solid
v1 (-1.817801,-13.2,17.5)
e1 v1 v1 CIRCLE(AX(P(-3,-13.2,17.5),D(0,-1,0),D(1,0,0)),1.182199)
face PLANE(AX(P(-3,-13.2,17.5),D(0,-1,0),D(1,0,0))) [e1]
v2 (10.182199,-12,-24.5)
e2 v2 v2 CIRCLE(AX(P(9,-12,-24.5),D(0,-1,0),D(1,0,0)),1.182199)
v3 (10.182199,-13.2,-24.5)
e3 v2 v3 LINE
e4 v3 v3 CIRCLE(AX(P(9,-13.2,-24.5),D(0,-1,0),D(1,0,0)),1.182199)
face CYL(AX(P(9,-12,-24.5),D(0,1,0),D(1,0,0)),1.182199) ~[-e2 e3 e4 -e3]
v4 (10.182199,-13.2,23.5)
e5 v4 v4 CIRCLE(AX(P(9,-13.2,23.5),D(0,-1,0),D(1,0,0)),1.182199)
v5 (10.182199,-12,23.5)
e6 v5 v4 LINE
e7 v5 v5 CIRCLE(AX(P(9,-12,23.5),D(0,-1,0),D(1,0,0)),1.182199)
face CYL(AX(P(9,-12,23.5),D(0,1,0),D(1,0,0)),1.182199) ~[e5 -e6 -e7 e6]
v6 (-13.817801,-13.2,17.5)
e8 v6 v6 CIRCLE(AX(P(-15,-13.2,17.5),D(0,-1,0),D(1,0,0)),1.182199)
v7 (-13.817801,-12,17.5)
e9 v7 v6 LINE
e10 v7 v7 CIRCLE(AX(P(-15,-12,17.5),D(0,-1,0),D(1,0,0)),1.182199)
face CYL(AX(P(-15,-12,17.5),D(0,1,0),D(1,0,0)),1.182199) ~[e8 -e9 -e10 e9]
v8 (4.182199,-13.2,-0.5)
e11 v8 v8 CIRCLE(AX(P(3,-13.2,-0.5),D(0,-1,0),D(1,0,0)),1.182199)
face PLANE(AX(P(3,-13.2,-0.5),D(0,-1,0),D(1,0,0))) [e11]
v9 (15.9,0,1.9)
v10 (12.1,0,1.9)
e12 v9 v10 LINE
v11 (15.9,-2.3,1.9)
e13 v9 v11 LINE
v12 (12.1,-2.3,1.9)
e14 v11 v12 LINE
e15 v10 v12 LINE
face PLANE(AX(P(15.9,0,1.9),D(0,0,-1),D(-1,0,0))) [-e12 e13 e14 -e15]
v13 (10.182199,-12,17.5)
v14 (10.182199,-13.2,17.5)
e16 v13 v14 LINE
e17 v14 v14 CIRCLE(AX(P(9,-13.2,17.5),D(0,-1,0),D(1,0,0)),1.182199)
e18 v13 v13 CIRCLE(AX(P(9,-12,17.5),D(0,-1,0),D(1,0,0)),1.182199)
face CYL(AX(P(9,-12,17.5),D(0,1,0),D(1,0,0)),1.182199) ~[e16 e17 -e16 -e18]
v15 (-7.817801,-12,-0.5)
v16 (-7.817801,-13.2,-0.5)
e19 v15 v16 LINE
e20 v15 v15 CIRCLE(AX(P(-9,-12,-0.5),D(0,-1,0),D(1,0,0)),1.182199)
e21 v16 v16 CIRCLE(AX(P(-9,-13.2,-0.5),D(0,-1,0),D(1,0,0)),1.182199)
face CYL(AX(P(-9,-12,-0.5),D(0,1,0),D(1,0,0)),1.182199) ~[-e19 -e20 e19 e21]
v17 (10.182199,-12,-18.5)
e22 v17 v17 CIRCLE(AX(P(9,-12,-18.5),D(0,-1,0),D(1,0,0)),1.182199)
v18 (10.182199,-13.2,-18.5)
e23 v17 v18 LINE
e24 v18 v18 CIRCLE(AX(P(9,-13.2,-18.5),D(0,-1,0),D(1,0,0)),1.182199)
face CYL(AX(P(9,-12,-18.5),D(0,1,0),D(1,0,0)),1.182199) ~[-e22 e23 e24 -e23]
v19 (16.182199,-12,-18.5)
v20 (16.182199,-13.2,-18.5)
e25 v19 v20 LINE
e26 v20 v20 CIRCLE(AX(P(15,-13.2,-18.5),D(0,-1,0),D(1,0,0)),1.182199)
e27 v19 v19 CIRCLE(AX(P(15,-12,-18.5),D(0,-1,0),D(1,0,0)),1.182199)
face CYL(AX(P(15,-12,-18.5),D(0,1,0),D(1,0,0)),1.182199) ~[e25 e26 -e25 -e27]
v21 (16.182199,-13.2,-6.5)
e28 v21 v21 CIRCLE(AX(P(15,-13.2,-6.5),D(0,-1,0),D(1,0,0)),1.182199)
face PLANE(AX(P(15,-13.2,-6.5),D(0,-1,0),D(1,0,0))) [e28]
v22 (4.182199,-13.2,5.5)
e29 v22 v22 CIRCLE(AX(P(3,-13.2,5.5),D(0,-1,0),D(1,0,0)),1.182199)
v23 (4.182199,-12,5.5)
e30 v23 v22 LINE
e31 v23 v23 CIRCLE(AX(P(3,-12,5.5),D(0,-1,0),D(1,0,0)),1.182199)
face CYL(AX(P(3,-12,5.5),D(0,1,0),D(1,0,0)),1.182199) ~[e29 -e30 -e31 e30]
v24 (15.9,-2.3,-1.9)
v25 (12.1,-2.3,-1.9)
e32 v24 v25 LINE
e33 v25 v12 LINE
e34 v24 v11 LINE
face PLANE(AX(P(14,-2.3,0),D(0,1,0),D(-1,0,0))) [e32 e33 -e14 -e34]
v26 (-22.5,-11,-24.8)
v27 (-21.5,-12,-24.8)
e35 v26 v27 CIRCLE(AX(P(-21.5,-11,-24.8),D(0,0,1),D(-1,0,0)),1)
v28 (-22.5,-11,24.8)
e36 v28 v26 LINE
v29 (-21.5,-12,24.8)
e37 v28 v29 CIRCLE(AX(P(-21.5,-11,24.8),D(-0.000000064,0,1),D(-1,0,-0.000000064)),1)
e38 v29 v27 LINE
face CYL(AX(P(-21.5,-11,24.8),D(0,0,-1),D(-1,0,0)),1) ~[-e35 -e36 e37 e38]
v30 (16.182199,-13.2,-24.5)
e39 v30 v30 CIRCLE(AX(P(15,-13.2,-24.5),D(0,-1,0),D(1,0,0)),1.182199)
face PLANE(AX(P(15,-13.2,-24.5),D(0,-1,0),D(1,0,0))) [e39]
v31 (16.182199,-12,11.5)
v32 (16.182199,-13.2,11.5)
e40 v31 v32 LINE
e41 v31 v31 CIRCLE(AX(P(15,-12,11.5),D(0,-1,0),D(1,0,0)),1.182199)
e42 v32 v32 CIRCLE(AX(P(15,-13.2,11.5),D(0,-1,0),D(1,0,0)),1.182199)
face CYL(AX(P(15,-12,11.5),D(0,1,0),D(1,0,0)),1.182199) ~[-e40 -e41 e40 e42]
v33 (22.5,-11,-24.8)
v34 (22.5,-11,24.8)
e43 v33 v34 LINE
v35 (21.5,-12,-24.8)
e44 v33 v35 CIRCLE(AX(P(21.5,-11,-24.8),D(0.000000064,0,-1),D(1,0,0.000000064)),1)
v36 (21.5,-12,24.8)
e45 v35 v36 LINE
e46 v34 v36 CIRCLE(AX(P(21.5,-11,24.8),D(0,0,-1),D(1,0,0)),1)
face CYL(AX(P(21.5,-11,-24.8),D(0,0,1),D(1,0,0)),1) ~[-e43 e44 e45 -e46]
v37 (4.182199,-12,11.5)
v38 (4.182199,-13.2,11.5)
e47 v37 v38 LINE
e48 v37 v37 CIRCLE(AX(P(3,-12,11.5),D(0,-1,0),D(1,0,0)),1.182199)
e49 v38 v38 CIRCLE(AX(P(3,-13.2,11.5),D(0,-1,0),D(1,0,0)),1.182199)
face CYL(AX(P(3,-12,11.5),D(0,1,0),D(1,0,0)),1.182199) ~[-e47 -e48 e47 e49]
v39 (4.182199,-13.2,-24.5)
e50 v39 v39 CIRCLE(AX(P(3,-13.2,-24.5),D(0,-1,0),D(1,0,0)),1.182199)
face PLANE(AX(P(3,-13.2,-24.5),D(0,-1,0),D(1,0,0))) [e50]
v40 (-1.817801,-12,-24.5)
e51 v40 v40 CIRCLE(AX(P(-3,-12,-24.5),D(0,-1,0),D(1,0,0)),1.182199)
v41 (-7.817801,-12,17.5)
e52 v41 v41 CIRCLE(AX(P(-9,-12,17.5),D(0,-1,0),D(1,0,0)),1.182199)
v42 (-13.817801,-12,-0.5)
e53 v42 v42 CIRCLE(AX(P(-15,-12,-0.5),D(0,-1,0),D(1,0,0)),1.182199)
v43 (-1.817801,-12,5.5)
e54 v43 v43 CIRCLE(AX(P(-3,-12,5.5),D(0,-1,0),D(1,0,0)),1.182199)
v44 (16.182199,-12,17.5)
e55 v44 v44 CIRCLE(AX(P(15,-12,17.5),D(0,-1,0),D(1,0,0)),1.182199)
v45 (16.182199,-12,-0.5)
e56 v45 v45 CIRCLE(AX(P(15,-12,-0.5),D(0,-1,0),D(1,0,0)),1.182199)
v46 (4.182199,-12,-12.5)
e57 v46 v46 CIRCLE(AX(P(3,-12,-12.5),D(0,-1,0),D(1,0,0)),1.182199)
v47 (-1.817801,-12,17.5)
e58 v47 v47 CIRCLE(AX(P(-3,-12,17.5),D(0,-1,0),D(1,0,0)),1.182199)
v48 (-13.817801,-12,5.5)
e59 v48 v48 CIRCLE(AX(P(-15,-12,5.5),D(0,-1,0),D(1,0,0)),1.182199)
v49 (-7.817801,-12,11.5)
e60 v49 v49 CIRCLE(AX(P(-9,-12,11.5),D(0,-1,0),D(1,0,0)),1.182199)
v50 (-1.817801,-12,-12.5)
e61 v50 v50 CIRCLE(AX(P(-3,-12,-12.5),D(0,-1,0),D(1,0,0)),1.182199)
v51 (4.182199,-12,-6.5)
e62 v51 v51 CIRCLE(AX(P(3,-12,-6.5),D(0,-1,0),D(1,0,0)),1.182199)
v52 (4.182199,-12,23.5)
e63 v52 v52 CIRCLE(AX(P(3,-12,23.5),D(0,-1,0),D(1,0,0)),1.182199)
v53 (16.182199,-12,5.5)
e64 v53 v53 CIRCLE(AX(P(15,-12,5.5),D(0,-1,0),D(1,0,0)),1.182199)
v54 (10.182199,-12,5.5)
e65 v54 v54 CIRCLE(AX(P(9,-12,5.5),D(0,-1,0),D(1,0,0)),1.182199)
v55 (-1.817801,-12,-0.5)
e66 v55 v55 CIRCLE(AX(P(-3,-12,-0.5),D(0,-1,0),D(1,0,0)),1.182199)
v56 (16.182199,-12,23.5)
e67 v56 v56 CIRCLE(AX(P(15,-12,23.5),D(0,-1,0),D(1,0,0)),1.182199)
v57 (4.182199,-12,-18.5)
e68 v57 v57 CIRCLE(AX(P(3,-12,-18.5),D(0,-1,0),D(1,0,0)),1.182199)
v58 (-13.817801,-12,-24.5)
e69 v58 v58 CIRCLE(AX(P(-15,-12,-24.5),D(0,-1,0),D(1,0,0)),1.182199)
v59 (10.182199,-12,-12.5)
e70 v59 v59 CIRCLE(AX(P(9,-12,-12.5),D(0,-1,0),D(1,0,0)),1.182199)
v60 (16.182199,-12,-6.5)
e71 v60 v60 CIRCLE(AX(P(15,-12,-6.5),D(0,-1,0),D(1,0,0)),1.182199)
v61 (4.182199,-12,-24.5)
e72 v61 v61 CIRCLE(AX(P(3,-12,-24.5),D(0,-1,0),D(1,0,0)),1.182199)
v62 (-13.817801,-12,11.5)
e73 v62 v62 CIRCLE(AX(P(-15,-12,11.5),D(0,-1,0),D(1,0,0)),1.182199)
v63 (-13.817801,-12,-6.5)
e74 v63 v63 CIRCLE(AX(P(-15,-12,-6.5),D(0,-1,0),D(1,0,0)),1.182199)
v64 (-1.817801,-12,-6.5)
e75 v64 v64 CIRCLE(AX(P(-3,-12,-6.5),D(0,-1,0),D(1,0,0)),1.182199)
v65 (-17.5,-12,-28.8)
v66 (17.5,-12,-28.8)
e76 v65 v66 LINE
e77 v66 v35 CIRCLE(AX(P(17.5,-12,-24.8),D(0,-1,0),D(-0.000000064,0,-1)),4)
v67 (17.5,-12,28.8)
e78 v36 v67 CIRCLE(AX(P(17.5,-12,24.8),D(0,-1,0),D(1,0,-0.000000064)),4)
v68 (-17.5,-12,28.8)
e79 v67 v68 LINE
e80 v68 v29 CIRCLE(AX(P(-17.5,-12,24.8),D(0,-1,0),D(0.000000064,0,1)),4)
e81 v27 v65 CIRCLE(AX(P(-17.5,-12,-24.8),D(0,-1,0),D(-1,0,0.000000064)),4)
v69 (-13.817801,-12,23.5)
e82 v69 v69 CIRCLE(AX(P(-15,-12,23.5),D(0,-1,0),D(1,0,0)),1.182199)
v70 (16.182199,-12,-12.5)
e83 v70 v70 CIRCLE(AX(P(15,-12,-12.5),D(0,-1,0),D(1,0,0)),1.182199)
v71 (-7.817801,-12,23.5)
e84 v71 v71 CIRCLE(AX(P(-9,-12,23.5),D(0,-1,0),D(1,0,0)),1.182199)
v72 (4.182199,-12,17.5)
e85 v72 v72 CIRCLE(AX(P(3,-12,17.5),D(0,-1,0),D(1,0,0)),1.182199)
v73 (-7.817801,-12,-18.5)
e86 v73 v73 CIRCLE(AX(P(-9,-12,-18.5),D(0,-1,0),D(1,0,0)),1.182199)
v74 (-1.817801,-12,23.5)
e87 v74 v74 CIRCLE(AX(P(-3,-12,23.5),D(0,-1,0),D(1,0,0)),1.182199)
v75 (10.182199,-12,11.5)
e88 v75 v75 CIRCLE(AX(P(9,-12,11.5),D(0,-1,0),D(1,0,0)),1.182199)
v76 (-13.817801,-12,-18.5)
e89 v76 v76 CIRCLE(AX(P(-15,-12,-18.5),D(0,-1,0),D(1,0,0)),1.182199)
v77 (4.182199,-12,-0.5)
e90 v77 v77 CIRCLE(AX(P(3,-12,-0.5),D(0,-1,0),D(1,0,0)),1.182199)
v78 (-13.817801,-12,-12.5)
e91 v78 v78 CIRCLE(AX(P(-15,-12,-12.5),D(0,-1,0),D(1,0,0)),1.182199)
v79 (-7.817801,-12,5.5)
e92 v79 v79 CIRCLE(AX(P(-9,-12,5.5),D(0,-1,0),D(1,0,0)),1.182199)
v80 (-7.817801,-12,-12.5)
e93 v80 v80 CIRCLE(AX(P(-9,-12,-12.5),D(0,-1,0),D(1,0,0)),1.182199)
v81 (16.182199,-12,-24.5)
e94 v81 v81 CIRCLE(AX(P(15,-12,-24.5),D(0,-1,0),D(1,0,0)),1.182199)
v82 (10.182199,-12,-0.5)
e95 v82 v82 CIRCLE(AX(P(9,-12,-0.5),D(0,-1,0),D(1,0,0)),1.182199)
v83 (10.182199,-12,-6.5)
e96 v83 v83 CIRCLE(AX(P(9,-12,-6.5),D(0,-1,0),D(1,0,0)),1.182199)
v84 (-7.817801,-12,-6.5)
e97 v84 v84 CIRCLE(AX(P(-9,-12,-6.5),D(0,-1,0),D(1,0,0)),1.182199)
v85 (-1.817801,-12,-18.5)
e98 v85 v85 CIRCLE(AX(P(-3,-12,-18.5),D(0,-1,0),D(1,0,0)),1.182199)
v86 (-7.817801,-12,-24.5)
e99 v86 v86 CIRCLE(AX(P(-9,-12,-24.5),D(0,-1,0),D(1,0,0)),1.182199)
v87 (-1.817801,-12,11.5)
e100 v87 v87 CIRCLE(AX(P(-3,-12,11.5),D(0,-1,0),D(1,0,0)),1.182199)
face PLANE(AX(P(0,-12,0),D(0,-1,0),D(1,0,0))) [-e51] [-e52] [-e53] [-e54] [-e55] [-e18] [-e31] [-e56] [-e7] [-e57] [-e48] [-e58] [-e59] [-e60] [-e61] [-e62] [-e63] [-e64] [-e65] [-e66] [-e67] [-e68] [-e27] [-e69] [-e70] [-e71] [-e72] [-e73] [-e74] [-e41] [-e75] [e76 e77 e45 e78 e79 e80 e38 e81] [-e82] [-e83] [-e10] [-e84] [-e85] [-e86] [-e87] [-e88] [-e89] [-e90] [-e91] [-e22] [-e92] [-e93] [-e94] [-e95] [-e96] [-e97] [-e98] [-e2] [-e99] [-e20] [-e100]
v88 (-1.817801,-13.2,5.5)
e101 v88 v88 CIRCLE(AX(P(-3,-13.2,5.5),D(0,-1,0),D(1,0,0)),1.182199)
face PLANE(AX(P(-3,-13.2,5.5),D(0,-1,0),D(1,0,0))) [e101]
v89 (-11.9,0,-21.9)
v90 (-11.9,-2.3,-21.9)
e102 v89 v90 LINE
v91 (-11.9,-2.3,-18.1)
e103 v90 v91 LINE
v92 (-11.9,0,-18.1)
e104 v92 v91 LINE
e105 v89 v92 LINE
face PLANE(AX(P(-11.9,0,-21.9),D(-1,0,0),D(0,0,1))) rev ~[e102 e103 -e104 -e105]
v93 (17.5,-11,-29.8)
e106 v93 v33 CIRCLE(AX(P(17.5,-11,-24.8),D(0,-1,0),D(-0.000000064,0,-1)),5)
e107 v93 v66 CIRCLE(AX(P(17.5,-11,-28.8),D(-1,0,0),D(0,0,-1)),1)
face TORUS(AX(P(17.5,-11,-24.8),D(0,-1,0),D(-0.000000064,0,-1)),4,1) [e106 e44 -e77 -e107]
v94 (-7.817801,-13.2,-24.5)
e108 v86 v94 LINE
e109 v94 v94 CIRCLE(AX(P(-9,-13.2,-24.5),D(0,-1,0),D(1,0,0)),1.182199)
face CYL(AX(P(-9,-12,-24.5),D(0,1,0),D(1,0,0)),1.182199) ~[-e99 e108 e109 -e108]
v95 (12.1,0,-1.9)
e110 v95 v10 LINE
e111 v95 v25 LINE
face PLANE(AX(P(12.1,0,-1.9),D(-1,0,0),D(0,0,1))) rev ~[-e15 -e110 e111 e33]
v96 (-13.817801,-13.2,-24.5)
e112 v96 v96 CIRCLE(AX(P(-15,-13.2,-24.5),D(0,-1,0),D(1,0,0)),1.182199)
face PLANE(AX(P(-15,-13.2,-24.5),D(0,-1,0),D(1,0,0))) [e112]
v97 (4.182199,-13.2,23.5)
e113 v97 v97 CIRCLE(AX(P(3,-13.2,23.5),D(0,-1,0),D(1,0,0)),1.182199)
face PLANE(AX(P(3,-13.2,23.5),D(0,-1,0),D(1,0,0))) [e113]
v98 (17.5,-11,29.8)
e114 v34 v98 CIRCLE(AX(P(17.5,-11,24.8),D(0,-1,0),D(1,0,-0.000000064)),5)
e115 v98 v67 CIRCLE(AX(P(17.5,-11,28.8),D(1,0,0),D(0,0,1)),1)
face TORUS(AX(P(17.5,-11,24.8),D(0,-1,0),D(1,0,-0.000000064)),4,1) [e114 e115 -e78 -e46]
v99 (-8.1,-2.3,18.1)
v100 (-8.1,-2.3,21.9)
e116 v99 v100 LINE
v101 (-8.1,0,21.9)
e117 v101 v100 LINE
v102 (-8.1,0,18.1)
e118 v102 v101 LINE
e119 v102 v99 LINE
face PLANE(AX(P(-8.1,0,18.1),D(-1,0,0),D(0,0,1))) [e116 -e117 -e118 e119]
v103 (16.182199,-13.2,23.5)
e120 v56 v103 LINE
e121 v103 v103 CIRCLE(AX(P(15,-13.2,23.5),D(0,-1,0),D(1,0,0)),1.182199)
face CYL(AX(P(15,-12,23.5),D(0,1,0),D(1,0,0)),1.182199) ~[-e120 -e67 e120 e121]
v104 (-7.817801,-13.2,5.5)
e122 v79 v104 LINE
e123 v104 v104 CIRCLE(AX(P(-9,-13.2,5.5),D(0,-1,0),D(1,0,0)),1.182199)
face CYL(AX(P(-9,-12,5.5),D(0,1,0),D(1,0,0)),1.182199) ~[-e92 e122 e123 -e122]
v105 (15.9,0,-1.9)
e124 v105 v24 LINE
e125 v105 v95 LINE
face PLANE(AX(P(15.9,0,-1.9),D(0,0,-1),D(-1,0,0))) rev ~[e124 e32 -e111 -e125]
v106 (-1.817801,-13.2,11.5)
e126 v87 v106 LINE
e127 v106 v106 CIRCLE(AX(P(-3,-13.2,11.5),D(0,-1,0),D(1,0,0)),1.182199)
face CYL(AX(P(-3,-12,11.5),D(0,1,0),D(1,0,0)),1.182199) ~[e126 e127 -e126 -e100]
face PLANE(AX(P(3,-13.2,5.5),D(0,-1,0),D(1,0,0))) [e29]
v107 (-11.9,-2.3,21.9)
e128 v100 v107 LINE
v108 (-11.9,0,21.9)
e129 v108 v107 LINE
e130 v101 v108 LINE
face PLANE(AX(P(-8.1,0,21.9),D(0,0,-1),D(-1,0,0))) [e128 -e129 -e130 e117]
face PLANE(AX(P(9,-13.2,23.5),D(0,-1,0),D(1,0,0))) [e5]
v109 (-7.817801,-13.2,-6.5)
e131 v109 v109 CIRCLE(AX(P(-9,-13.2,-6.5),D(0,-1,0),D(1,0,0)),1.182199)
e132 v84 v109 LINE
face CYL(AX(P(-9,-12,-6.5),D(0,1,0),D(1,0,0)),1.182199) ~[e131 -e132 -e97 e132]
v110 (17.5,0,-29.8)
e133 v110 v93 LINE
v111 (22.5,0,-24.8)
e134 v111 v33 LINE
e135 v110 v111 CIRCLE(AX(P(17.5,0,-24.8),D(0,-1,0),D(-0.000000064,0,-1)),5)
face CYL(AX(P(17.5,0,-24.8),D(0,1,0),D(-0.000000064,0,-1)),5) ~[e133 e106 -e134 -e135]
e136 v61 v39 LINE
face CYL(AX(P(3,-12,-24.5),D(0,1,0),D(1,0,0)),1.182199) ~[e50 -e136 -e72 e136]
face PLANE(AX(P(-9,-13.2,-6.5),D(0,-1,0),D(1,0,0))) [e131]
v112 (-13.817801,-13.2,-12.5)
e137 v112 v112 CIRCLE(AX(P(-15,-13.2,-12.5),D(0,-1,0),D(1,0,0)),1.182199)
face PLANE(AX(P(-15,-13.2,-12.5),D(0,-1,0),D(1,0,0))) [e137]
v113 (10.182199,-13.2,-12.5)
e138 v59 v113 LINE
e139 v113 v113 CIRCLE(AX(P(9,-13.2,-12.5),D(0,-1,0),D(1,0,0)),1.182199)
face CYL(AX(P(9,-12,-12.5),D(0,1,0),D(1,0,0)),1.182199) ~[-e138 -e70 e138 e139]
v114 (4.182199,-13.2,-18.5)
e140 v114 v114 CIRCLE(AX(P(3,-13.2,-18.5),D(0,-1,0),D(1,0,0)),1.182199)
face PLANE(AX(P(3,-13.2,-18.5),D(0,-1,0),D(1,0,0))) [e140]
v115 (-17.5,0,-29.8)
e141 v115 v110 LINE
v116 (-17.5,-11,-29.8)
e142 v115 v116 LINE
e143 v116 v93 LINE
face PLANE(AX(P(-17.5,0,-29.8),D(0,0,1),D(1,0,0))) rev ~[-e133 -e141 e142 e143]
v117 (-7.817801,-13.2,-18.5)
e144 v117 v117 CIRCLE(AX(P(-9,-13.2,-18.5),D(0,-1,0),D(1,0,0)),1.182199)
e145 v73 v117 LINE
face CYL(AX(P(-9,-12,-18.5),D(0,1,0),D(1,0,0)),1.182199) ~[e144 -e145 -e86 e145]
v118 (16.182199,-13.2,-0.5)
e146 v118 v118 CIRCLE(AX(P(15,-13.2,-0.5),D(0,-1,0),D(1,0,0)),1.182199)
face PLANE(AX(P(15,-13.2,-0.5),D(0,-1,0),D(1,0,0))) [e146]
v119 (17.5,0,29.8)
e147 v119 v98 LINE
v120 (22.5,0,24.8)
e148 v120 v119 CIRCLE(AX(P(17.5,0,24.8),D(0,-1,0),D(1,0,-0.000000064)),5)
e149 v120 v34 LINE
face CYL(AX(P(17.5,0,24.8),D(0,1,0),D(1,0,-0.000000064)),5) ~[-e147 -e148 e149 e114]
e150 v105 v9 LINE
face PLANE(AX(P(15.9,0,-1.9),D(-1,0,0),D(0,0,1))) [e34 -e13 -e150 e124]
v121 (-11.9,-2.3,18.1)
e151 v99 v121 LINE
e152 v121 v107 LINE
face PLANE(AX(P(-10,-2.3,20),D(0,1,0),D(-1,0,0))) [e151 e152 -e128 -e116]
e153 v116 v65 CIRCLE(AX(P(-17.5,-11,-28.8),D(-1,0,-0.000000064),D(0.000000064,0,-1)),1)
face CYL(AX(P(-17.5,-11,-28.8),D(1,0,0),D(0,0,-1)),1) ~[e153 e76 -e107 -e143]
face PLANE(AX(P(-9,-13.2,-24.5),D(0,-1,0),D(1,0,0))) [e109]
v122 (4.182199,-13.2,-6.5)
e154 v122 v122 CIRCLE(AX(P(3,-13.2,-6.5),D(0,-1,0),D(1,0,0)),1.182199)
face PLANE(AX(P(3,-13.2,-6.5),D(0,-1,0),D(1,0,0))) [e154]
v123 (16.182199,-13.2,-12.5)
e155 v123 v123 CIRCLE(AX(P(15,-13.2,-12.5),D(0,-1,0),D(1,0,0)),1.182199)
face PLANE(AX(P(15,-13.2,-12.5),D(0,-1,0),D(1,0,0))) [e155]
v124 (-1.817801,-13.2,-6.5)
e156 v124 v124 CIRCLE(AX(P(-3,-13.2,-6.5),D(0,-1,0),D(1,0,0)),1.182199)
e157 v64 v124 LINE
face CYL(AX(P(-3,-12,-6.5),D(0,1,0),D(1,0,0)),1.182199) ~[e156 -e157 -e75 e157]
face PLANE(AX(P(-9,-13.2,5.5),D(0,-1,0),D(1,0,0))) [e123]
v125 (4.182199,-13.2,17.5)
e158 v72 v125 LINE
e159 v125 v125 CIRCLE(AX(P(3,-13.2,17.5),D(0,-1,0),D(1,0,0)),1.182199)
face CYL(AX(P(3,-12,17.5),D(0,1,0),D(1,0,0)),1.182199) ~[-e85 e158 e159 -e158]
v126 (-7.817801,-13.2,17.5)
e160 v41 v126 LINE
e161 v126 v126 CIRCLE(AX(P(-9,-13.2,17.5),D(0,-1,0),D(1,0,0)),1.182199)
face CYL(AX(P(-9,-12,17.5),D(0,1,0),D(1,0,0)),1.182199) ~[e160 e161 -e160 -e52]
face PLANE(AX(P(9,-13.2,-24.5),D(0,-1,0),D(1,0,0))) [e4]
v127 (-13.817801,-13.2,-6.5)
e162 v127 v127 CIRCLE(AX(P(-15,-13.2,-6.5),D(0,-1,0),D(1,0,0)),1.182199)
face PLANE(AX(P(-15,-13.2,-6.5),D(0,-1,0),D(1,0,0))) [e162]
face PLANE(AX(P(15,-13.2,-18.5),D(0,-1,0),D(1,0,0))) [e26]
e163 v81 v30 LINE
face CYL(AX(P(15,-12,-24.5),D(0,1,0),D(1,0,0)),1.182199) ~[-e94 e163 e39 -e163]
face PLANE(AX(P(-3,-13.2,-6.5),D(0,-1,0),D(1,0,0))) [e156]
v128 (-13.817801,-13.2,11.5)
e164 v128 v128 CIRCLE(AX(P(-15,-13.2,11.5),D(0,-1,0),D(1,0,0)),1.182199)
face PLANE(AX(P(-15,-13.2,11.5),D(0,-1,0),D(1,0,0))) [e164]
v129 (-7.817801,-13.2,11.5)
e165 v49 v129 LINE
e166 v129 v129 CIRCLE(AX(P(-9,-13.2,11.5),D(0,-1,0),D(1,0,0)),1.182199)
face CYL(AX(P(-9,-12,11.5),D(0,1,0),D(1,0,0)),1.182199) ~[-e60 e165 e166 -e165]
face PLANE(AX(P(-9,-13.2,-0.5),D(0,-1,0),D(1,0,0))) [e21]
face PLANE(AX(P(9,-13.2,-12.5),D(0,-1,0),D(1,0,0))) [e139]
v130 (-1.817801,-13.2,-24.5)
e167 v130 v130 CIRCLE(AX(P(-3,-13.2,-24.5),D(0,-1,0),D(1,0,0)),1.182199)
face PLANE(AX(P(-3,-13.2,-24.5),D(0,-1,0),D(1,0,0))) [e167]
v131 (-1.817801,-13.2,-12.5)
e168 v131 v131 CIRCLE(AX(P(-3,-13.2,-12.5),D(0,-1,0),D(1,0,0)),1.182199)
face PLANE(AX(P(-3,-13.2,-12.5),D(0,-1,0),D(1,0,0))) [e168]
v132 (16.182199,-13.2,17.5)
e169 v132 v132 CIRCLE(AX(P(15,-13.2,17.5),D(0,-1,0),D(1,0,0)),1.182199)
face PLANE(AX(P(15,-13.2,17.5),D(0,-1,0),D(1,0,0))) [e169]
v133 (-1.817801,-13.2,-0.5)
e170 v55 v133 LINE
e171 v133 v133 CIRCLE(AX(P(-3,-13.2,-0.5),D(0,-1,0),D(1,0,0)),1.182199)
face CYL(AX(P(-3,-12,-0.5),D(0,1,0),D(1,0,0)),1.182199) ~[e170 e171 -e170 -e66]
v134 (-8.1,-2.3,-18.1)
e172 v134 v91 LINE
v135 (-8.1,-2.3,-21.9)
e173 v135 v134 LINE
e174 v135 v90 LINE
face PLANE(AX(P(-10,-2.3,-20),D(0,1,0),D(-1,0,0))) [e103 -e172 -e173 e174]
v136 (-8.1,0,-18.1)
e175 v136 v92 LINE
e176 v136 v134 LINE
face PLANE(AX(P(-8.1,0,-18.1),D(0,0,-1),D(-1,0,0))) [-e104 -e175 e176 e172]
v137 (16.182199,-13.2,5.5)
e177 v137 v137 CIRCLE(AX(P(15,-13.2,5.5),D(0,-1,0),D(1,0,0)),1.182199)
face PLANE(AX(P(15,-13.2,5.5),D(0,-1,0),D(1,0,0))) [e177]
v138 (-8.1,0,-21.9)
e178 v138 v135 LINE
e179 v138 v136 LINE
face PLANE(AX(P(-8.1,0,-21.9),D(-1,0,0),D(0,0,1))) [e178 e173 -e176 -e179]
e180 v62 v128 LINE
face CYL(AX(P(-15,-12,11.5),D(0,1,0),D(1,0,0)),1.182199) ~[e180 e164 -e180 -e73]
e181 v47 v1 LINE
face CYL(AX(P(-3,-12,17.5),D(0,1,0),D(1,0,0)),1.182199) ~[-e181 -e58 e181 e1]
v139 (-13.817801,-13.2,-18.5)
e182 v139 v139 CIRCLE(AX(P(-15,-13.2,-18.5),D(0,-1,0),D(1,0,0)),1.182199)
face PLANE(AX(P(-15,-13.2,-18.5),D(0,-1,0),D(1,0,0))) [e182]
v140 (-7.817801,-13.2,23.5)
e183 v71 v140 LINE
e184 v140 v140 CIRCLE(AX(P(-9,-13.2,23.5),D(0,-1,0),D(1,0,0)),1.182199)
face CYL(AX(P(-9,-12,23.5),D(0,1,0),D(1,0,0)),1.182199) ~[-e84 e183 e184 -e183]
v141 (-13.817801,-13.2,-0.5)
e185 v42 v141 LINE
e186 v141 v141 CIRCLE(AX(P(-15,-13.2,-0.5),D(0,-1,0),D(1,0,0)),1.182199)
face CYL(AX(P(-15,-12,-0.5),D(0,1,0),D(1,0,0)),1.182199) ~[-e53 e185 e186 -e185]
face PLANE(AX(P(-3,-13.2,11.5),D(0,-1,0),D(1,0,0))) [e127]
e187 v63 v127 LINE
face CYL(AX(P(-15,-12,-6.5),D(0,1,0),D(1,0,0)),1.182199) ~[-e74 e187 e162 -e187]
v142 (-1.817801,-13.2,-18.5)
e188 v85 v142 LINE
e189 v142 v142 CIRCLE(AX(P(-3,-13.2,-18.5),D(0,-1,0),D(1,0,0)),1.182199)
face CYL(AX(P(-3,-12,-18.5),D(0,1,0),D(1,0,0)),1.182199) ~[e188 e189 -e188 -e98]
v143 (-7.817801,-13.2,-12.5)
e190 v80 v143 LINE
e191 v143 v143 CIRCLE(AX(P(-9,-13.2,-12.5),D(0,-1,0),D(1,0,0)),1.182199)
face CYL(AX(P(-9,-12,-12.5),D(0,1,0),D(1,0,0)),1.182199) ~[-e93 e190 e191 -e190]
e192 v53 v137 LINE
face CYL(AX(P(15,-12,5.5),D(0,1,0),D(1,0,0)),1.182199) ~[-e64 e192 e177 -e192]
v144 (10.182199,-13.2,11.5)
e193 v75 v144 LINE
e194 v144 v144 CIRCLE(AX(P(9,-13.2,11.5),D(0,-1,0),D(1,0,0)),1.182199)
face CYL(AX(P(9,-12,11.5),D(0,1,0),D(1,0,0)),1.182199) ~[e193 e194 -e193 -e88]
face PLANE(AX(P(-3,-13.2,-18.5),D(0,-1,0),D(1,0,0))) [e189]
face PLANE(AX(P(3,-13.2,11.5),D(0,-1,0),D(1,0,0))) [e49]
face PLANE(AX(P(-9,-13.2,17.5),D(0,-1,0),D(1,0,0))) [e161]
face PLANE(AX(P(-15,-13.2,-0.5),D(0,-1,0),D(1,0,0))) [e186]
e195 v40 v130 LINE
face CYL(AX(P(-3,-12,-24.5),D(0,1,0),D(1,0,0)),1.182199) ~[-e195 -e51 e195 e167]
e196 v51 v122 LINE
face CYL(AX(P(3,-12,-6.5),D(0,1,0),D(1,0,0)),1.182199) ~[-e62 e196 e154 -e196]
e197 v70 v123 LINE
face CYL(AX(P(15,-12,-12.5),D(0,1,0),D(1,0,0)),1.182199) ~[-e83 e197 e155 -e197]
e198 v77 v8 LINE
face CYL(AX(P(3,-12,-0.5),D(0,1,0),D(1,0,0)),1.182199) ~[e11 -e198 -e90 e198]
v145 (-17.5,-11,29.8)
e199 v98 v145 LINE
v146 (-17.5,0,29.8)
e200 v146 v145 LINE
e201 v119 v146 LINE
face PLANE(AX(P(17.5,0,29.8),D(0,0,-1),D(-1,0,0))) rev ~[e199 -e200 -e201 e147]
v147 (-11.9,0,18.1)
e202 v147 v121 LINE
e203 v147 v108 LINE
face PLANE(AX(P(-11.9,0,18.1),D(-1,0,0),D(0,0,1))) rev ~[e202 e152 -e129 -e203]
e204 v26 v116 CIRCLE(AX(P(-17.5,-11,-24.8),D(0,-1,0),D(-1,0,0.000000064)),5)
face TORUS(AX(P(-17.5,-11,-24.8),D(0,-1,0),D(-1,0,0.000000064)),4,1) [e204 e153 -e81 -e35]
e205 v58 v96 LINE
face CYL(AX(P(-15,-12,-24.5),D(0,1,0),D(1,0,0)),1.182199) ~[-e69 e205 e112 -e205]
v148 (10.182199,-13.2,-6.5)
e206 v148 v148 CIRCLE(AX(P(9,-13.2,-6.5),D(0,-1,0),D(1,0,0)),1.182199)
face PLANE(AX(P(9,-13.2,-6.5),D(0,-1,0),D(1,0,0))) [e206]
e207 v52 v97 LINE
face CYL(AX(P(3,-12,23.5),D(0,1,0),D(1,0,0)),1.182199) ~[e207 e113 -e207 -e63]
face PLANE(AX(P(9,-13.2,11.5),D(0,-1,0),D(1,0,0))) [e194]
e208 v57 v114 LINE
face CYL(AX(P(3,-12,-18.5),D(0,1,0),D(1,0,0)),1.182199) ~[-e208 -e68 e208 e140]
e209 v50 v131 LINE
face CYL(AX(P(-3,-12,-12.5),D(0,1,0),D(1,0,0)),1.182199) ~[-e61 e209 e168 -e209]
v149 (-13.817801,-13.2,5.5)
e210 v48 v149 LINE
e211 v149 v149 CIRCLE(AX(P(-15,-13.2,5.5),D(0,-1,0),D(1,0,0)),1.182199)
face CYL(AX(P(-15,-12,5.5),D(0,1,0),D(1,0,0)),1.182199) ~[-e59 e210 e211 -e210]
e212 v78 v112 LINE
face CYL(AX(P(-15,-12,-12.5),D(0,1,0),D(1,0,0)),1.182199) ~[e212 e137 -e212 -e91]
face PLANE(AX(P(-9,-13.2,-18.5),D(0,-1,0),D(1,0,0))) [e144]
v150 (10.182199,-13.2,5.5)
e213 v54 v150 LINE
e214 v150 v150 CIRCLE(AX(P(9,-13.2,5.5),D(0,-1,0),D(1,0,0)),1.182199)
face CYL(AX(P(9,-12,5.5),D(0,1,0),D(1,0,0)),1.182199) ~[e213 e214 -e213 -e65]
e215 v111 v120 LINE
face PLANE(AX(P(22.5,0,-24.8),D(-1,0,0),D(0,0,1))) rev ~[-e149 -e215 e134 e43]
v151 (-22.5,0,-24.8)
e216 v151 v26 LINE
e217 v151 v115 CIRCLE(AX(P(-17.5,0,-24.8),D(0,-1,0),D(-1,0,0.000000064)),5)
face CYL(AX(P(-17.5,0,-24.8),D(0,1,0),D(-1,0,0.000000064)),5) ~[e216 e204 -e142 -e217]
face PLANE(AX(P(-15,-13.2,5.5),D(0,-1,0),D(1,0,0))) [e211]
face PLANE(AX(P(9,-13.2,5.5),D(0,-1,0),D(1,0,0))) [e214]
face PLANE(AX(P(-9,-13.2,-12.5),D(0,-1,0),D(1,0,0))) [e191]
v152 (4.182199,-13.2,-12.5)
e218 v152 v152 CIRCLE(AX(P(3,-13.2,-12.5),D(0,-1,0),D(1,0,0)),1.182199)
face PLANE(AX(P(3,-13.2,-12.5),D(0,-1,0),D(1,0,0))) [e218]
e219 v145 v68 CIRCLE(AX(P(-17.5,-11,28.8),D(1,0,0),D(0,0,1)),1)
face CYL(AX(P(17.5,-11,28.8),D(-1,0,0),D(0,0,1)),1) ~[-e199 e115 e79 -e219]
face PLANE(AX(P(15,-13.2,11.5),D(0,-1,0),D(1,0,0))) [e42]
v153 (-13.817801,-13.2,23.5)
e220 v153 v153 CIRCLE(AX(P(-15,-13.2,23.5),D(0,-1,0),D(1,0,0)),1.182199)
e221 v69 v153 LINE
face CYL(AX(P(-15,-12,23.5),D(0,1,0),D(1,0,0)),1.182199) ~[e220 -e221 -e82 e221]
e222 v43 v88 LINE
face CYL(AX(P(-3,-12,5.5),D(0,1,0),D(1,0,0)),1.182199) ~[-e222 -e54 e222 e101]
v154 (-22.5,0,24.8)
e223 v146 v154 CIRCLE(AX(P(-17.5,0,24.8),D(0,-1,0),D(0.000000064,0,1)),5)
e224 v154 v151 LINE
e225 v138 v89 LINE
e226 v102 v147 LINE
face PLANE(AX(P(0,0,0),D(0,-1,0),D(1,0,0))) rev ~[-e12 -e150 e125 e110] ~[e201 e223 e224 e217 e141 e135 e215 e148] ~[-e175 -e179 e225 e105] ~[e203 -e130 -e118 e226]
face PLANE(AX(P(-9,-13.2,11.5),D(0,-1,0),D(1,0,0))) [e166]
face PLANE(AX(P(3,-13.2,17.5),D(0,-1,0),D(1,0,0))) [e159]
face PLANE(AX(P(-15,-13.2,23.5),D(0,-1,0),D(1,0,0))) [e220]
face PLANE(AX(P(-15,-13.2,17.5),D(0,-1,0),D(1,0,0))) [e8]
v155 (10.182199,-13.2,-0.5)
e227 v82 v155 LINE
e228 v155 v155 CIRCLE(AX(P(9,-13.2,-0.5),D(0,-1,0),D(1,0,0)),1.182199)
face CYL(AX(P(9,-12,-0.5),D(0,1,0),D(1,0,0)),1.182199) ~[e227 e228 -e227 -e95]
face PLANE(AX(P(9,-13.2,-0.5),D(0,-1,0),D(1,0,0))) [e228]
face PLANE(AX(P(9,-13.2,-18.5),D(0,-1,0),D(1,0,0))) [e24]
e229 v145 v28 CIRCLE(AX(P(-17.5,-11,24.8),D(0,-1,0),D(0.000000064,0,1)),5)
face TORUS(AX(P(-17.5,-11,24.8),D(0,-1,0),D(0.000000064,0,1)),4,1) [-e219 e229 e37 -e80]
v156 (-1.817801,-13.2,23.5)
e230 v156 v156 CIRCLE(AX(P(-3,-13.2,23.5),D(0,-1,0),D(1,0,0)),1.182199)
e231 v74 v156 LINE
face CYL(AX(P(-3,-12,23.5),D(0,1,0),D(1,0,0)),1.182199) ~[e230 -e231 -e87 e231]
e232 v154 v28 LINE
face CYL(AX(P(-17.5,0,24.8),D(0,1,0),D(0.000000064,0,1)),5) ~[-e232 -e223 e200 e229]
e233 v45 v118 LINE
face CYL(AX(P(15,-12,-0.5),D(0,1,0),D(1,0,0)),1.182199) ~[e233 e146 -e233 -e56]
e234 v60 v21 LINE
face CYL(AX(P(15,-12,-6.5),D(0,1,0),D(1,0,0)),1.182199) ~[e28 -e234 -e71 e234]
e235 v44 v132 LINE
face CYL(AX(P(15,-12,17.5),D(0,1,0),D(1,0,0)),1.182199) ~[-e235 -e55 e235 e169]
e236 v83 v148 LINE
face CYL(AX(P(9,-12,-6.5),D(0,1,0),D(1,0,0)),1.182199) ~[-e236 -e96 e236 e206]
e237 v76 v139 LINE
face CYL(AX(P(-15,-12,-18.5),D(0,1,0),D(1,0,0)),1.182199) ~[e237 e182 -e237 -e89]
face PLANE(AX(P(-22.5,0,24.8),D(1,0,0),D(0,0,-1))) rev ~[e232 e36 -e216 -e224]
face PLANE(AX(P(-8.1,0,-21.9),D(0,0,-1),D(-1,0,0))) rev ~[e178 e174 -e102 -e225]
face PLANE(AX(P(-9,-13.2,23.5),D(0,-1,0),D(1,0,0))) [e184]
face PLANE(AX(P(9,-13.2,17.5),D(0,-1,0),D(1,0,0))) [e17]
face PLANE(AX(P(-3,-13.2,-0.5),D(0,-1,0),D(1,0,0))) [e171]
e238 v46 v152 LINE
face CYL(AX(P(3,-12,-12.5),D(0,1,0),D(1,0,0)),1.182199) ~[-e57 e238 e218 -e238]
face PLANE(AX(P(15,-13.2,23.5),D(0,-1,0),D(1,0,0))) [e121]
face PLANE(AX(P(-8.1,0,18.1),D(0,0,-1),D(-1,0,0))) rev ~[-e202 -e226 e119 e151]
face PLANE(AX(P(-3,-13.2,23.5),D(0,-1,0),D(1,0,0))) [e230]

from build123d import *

# Parameters (mm, degrees)
F1_DEPTH = 12
F2_R     = 1
F3_W     = 3.8
F3_H     = 3.8
F4_DEPTH = 2.3
F5_R     = 1.182199
F6_DEPTH = 1.2


with BuildPart() as f1:
    # F0 (on Front) → F1 (new body)
    with BuildSketch(Plane.XZ):
        with BuildLine():
            Line((17.5, 29.8), (-17.5, 29.8))
            ThreePointArc((-17.5, 29.8), (-21.035534, 28.335534), (-22.5, 24.8))
            Line((-22.5, 24.8), (-22.5, -24.8))
            ThreePointArc((-22.5, -24.8), (-21.035534, -28.335534), (-17.5, -29.8))
            Line((-17.5, -29.8), (17.5, -29.8))
            ThreePointArc((17.5, -29.8), (21.035534, -28.335534), (22.5, -24.8))
            Line((22.5, -24.8), (22.5, 24.8))
            ThreePointArc((22.5, 24.8), (21.035534, 28.335534), (17.5, 29.8))
        make_face()
    extrude(amount=F1_DEPTH)

    # F2
    f2_edges = [f1.edges().sort_by_distance(p)[0] for p in [
        (0, -12, 29.8),
        (-21.035534, -12, 28.335534),
        (-22.5, -12, 0),
        (-21.035534, -12, -28.335534),
        (0, -12, -29.8),
        (21.035534, -12, -28.335534),
        (22.5, -12, 0),
        (21.035534, -12, 28.335534),
    ]]
    fillet(f2_edges, radius=F2_R)

    # F3 (on face) → F4 (cut)
    with BuildSketch(Plane(origin=(0, 0, 0), x_dir=(-1, 0, 0), z_dir=(0, 1, 0))):
        with Locations((10, 20)):
            Rectangle(F3_W, F3_H)
        with Locations((-14, 0)):
            Rectangle(F3_W, F3_H)
        with Locations((10, -20)):
            Rectangle(F3_W, F3_H)
    extrude(amount=-F4_DEPTH, mode=Mode.SUBTRACT)

    # F5 (on face) → F6 (join)
    with BuildSketch(Plane.XZ.offset(12)):
        with Locations((-15, 23.5)):
            Circle(F5_R)
        with Locations((-15, 17.5)):
            Circle(F5_R)
        with Locations((-15, 11.5)):
            Circle(F5_R)
        with Locations((-15, 5.5)):
            Circle(F5_R)
        with Locations((-15, -0.5)):
            Circle(F5_R)
        with Locations((-9, 23.5)):
            Circle(F5_R)
        with Locations((-9, 17.5)):
            Circle(F5_R)
        with Locations((-9, 11.5)):
            Circle(F5_R)
        with Locations((-9, 5.5)):
            Circle(F5_R)
        with Locations((-9, -0.5)):
            Circle(F5_R)
        with Locations((-3, 23.5)):
            Circle(F5_R)
        with Locations((-3, 17.5)):
            Circle(F5_R)
        with Locations((-3, 11.5)):
            Circle(F5_R)
        with Locations((-3, 5.5)):
            Circle(F5_R)
        with Locations((-3, -0.5)):
            Circle(F5_R)
        with Locations((3, 23.5)):
            Circle(F5_R)
        with Locations((3, 17.5)):
            Circle(F5_R)
        with Locations((3, 11.5)):
            Circle(F5_R)
        with Locations((3, 5.5)):
            Circle(F5_R)
        with Locations((3, -0.5)):
            Circle(F5_R)
        with Locations((-15, -6.5)):
            Circle(F5_R)
        with Locations((-15, -12.5)):
            Circle(F5_R)
        with Locations((-15, -18.5)):
            Circle(F5_R)
        with Locations((-15, -24.5)):
            Circle(F5_R)
        with Locations((-9, -6.5)):
            Circle(F5_R)
        with Locations((-9, -12.5)):
            Circle(F5_R)
        with Locations((-9, -18.5)):
            Circle(F5_R)
        with Locations((-9, -24.5)):
            Circle(F5_R)
        with Locations((-3, -6.5)):
            Circle(F5_R)
        with Locations((-3, -12.5)):
            Circle(F5_R)
        with Locations((-3, -18.5)):
            Circle(F5_R)
        with Locations((-3, -24.5)):
            Circle(F5_R)
        with Locations((3, -6.5)):
            Circle(F5_R)
        with Locations((3, -12.5)):
            Circle(F5_R)
        with Locations((3, -18.5)):
            Circle(F5_R)
        with Locations((3, -24.5)):
            Circle(F5_R)
        with Locations((9, 23.5)):
            Circle(F5_R)
        with Locations((9, 17.5)):
            Circle(F5_R)
        with Locations((9, 11.5)):
            Circle(F5_R)
        with Locations((9, 5.5)):
            Circle(F5_R)
        with Locations((9, -0.5)):
            Circle(F5_R)
        with Locations((9, -6.5)):
            Circle(F5_R)
        with Locations((9, -12.5)):
            Circle(F5_R)
        with Locations((9, -18.5)):
            Circle(F5_R)
        with Locations((9, -24.5)):
            Circle(F5_R)
        with Locations((15, 23.5)):
            Circle(F5_R)
        with Locations((15, 17.5)):
            Circle(F5_R)
        with Locations((15, 11.5)):
            Circle(F5_R)
        with Locations((15, 5.5)):
            Circle(F5_R)
        with Locations((15, -0.5)):
            Circle(F5_R)
        with Locations((15, -6.5)):
            Circle(F5_R)
        with Locations((15, -12.5)):
            Circle(F5_R)
        with Locations((15, -18.5)):
            Circle(F5_R)
        with Locations((15, -24.5)):
            Circle(F5_R)
    extrude(amount=F6_DEPTH)


solid = f1.part
